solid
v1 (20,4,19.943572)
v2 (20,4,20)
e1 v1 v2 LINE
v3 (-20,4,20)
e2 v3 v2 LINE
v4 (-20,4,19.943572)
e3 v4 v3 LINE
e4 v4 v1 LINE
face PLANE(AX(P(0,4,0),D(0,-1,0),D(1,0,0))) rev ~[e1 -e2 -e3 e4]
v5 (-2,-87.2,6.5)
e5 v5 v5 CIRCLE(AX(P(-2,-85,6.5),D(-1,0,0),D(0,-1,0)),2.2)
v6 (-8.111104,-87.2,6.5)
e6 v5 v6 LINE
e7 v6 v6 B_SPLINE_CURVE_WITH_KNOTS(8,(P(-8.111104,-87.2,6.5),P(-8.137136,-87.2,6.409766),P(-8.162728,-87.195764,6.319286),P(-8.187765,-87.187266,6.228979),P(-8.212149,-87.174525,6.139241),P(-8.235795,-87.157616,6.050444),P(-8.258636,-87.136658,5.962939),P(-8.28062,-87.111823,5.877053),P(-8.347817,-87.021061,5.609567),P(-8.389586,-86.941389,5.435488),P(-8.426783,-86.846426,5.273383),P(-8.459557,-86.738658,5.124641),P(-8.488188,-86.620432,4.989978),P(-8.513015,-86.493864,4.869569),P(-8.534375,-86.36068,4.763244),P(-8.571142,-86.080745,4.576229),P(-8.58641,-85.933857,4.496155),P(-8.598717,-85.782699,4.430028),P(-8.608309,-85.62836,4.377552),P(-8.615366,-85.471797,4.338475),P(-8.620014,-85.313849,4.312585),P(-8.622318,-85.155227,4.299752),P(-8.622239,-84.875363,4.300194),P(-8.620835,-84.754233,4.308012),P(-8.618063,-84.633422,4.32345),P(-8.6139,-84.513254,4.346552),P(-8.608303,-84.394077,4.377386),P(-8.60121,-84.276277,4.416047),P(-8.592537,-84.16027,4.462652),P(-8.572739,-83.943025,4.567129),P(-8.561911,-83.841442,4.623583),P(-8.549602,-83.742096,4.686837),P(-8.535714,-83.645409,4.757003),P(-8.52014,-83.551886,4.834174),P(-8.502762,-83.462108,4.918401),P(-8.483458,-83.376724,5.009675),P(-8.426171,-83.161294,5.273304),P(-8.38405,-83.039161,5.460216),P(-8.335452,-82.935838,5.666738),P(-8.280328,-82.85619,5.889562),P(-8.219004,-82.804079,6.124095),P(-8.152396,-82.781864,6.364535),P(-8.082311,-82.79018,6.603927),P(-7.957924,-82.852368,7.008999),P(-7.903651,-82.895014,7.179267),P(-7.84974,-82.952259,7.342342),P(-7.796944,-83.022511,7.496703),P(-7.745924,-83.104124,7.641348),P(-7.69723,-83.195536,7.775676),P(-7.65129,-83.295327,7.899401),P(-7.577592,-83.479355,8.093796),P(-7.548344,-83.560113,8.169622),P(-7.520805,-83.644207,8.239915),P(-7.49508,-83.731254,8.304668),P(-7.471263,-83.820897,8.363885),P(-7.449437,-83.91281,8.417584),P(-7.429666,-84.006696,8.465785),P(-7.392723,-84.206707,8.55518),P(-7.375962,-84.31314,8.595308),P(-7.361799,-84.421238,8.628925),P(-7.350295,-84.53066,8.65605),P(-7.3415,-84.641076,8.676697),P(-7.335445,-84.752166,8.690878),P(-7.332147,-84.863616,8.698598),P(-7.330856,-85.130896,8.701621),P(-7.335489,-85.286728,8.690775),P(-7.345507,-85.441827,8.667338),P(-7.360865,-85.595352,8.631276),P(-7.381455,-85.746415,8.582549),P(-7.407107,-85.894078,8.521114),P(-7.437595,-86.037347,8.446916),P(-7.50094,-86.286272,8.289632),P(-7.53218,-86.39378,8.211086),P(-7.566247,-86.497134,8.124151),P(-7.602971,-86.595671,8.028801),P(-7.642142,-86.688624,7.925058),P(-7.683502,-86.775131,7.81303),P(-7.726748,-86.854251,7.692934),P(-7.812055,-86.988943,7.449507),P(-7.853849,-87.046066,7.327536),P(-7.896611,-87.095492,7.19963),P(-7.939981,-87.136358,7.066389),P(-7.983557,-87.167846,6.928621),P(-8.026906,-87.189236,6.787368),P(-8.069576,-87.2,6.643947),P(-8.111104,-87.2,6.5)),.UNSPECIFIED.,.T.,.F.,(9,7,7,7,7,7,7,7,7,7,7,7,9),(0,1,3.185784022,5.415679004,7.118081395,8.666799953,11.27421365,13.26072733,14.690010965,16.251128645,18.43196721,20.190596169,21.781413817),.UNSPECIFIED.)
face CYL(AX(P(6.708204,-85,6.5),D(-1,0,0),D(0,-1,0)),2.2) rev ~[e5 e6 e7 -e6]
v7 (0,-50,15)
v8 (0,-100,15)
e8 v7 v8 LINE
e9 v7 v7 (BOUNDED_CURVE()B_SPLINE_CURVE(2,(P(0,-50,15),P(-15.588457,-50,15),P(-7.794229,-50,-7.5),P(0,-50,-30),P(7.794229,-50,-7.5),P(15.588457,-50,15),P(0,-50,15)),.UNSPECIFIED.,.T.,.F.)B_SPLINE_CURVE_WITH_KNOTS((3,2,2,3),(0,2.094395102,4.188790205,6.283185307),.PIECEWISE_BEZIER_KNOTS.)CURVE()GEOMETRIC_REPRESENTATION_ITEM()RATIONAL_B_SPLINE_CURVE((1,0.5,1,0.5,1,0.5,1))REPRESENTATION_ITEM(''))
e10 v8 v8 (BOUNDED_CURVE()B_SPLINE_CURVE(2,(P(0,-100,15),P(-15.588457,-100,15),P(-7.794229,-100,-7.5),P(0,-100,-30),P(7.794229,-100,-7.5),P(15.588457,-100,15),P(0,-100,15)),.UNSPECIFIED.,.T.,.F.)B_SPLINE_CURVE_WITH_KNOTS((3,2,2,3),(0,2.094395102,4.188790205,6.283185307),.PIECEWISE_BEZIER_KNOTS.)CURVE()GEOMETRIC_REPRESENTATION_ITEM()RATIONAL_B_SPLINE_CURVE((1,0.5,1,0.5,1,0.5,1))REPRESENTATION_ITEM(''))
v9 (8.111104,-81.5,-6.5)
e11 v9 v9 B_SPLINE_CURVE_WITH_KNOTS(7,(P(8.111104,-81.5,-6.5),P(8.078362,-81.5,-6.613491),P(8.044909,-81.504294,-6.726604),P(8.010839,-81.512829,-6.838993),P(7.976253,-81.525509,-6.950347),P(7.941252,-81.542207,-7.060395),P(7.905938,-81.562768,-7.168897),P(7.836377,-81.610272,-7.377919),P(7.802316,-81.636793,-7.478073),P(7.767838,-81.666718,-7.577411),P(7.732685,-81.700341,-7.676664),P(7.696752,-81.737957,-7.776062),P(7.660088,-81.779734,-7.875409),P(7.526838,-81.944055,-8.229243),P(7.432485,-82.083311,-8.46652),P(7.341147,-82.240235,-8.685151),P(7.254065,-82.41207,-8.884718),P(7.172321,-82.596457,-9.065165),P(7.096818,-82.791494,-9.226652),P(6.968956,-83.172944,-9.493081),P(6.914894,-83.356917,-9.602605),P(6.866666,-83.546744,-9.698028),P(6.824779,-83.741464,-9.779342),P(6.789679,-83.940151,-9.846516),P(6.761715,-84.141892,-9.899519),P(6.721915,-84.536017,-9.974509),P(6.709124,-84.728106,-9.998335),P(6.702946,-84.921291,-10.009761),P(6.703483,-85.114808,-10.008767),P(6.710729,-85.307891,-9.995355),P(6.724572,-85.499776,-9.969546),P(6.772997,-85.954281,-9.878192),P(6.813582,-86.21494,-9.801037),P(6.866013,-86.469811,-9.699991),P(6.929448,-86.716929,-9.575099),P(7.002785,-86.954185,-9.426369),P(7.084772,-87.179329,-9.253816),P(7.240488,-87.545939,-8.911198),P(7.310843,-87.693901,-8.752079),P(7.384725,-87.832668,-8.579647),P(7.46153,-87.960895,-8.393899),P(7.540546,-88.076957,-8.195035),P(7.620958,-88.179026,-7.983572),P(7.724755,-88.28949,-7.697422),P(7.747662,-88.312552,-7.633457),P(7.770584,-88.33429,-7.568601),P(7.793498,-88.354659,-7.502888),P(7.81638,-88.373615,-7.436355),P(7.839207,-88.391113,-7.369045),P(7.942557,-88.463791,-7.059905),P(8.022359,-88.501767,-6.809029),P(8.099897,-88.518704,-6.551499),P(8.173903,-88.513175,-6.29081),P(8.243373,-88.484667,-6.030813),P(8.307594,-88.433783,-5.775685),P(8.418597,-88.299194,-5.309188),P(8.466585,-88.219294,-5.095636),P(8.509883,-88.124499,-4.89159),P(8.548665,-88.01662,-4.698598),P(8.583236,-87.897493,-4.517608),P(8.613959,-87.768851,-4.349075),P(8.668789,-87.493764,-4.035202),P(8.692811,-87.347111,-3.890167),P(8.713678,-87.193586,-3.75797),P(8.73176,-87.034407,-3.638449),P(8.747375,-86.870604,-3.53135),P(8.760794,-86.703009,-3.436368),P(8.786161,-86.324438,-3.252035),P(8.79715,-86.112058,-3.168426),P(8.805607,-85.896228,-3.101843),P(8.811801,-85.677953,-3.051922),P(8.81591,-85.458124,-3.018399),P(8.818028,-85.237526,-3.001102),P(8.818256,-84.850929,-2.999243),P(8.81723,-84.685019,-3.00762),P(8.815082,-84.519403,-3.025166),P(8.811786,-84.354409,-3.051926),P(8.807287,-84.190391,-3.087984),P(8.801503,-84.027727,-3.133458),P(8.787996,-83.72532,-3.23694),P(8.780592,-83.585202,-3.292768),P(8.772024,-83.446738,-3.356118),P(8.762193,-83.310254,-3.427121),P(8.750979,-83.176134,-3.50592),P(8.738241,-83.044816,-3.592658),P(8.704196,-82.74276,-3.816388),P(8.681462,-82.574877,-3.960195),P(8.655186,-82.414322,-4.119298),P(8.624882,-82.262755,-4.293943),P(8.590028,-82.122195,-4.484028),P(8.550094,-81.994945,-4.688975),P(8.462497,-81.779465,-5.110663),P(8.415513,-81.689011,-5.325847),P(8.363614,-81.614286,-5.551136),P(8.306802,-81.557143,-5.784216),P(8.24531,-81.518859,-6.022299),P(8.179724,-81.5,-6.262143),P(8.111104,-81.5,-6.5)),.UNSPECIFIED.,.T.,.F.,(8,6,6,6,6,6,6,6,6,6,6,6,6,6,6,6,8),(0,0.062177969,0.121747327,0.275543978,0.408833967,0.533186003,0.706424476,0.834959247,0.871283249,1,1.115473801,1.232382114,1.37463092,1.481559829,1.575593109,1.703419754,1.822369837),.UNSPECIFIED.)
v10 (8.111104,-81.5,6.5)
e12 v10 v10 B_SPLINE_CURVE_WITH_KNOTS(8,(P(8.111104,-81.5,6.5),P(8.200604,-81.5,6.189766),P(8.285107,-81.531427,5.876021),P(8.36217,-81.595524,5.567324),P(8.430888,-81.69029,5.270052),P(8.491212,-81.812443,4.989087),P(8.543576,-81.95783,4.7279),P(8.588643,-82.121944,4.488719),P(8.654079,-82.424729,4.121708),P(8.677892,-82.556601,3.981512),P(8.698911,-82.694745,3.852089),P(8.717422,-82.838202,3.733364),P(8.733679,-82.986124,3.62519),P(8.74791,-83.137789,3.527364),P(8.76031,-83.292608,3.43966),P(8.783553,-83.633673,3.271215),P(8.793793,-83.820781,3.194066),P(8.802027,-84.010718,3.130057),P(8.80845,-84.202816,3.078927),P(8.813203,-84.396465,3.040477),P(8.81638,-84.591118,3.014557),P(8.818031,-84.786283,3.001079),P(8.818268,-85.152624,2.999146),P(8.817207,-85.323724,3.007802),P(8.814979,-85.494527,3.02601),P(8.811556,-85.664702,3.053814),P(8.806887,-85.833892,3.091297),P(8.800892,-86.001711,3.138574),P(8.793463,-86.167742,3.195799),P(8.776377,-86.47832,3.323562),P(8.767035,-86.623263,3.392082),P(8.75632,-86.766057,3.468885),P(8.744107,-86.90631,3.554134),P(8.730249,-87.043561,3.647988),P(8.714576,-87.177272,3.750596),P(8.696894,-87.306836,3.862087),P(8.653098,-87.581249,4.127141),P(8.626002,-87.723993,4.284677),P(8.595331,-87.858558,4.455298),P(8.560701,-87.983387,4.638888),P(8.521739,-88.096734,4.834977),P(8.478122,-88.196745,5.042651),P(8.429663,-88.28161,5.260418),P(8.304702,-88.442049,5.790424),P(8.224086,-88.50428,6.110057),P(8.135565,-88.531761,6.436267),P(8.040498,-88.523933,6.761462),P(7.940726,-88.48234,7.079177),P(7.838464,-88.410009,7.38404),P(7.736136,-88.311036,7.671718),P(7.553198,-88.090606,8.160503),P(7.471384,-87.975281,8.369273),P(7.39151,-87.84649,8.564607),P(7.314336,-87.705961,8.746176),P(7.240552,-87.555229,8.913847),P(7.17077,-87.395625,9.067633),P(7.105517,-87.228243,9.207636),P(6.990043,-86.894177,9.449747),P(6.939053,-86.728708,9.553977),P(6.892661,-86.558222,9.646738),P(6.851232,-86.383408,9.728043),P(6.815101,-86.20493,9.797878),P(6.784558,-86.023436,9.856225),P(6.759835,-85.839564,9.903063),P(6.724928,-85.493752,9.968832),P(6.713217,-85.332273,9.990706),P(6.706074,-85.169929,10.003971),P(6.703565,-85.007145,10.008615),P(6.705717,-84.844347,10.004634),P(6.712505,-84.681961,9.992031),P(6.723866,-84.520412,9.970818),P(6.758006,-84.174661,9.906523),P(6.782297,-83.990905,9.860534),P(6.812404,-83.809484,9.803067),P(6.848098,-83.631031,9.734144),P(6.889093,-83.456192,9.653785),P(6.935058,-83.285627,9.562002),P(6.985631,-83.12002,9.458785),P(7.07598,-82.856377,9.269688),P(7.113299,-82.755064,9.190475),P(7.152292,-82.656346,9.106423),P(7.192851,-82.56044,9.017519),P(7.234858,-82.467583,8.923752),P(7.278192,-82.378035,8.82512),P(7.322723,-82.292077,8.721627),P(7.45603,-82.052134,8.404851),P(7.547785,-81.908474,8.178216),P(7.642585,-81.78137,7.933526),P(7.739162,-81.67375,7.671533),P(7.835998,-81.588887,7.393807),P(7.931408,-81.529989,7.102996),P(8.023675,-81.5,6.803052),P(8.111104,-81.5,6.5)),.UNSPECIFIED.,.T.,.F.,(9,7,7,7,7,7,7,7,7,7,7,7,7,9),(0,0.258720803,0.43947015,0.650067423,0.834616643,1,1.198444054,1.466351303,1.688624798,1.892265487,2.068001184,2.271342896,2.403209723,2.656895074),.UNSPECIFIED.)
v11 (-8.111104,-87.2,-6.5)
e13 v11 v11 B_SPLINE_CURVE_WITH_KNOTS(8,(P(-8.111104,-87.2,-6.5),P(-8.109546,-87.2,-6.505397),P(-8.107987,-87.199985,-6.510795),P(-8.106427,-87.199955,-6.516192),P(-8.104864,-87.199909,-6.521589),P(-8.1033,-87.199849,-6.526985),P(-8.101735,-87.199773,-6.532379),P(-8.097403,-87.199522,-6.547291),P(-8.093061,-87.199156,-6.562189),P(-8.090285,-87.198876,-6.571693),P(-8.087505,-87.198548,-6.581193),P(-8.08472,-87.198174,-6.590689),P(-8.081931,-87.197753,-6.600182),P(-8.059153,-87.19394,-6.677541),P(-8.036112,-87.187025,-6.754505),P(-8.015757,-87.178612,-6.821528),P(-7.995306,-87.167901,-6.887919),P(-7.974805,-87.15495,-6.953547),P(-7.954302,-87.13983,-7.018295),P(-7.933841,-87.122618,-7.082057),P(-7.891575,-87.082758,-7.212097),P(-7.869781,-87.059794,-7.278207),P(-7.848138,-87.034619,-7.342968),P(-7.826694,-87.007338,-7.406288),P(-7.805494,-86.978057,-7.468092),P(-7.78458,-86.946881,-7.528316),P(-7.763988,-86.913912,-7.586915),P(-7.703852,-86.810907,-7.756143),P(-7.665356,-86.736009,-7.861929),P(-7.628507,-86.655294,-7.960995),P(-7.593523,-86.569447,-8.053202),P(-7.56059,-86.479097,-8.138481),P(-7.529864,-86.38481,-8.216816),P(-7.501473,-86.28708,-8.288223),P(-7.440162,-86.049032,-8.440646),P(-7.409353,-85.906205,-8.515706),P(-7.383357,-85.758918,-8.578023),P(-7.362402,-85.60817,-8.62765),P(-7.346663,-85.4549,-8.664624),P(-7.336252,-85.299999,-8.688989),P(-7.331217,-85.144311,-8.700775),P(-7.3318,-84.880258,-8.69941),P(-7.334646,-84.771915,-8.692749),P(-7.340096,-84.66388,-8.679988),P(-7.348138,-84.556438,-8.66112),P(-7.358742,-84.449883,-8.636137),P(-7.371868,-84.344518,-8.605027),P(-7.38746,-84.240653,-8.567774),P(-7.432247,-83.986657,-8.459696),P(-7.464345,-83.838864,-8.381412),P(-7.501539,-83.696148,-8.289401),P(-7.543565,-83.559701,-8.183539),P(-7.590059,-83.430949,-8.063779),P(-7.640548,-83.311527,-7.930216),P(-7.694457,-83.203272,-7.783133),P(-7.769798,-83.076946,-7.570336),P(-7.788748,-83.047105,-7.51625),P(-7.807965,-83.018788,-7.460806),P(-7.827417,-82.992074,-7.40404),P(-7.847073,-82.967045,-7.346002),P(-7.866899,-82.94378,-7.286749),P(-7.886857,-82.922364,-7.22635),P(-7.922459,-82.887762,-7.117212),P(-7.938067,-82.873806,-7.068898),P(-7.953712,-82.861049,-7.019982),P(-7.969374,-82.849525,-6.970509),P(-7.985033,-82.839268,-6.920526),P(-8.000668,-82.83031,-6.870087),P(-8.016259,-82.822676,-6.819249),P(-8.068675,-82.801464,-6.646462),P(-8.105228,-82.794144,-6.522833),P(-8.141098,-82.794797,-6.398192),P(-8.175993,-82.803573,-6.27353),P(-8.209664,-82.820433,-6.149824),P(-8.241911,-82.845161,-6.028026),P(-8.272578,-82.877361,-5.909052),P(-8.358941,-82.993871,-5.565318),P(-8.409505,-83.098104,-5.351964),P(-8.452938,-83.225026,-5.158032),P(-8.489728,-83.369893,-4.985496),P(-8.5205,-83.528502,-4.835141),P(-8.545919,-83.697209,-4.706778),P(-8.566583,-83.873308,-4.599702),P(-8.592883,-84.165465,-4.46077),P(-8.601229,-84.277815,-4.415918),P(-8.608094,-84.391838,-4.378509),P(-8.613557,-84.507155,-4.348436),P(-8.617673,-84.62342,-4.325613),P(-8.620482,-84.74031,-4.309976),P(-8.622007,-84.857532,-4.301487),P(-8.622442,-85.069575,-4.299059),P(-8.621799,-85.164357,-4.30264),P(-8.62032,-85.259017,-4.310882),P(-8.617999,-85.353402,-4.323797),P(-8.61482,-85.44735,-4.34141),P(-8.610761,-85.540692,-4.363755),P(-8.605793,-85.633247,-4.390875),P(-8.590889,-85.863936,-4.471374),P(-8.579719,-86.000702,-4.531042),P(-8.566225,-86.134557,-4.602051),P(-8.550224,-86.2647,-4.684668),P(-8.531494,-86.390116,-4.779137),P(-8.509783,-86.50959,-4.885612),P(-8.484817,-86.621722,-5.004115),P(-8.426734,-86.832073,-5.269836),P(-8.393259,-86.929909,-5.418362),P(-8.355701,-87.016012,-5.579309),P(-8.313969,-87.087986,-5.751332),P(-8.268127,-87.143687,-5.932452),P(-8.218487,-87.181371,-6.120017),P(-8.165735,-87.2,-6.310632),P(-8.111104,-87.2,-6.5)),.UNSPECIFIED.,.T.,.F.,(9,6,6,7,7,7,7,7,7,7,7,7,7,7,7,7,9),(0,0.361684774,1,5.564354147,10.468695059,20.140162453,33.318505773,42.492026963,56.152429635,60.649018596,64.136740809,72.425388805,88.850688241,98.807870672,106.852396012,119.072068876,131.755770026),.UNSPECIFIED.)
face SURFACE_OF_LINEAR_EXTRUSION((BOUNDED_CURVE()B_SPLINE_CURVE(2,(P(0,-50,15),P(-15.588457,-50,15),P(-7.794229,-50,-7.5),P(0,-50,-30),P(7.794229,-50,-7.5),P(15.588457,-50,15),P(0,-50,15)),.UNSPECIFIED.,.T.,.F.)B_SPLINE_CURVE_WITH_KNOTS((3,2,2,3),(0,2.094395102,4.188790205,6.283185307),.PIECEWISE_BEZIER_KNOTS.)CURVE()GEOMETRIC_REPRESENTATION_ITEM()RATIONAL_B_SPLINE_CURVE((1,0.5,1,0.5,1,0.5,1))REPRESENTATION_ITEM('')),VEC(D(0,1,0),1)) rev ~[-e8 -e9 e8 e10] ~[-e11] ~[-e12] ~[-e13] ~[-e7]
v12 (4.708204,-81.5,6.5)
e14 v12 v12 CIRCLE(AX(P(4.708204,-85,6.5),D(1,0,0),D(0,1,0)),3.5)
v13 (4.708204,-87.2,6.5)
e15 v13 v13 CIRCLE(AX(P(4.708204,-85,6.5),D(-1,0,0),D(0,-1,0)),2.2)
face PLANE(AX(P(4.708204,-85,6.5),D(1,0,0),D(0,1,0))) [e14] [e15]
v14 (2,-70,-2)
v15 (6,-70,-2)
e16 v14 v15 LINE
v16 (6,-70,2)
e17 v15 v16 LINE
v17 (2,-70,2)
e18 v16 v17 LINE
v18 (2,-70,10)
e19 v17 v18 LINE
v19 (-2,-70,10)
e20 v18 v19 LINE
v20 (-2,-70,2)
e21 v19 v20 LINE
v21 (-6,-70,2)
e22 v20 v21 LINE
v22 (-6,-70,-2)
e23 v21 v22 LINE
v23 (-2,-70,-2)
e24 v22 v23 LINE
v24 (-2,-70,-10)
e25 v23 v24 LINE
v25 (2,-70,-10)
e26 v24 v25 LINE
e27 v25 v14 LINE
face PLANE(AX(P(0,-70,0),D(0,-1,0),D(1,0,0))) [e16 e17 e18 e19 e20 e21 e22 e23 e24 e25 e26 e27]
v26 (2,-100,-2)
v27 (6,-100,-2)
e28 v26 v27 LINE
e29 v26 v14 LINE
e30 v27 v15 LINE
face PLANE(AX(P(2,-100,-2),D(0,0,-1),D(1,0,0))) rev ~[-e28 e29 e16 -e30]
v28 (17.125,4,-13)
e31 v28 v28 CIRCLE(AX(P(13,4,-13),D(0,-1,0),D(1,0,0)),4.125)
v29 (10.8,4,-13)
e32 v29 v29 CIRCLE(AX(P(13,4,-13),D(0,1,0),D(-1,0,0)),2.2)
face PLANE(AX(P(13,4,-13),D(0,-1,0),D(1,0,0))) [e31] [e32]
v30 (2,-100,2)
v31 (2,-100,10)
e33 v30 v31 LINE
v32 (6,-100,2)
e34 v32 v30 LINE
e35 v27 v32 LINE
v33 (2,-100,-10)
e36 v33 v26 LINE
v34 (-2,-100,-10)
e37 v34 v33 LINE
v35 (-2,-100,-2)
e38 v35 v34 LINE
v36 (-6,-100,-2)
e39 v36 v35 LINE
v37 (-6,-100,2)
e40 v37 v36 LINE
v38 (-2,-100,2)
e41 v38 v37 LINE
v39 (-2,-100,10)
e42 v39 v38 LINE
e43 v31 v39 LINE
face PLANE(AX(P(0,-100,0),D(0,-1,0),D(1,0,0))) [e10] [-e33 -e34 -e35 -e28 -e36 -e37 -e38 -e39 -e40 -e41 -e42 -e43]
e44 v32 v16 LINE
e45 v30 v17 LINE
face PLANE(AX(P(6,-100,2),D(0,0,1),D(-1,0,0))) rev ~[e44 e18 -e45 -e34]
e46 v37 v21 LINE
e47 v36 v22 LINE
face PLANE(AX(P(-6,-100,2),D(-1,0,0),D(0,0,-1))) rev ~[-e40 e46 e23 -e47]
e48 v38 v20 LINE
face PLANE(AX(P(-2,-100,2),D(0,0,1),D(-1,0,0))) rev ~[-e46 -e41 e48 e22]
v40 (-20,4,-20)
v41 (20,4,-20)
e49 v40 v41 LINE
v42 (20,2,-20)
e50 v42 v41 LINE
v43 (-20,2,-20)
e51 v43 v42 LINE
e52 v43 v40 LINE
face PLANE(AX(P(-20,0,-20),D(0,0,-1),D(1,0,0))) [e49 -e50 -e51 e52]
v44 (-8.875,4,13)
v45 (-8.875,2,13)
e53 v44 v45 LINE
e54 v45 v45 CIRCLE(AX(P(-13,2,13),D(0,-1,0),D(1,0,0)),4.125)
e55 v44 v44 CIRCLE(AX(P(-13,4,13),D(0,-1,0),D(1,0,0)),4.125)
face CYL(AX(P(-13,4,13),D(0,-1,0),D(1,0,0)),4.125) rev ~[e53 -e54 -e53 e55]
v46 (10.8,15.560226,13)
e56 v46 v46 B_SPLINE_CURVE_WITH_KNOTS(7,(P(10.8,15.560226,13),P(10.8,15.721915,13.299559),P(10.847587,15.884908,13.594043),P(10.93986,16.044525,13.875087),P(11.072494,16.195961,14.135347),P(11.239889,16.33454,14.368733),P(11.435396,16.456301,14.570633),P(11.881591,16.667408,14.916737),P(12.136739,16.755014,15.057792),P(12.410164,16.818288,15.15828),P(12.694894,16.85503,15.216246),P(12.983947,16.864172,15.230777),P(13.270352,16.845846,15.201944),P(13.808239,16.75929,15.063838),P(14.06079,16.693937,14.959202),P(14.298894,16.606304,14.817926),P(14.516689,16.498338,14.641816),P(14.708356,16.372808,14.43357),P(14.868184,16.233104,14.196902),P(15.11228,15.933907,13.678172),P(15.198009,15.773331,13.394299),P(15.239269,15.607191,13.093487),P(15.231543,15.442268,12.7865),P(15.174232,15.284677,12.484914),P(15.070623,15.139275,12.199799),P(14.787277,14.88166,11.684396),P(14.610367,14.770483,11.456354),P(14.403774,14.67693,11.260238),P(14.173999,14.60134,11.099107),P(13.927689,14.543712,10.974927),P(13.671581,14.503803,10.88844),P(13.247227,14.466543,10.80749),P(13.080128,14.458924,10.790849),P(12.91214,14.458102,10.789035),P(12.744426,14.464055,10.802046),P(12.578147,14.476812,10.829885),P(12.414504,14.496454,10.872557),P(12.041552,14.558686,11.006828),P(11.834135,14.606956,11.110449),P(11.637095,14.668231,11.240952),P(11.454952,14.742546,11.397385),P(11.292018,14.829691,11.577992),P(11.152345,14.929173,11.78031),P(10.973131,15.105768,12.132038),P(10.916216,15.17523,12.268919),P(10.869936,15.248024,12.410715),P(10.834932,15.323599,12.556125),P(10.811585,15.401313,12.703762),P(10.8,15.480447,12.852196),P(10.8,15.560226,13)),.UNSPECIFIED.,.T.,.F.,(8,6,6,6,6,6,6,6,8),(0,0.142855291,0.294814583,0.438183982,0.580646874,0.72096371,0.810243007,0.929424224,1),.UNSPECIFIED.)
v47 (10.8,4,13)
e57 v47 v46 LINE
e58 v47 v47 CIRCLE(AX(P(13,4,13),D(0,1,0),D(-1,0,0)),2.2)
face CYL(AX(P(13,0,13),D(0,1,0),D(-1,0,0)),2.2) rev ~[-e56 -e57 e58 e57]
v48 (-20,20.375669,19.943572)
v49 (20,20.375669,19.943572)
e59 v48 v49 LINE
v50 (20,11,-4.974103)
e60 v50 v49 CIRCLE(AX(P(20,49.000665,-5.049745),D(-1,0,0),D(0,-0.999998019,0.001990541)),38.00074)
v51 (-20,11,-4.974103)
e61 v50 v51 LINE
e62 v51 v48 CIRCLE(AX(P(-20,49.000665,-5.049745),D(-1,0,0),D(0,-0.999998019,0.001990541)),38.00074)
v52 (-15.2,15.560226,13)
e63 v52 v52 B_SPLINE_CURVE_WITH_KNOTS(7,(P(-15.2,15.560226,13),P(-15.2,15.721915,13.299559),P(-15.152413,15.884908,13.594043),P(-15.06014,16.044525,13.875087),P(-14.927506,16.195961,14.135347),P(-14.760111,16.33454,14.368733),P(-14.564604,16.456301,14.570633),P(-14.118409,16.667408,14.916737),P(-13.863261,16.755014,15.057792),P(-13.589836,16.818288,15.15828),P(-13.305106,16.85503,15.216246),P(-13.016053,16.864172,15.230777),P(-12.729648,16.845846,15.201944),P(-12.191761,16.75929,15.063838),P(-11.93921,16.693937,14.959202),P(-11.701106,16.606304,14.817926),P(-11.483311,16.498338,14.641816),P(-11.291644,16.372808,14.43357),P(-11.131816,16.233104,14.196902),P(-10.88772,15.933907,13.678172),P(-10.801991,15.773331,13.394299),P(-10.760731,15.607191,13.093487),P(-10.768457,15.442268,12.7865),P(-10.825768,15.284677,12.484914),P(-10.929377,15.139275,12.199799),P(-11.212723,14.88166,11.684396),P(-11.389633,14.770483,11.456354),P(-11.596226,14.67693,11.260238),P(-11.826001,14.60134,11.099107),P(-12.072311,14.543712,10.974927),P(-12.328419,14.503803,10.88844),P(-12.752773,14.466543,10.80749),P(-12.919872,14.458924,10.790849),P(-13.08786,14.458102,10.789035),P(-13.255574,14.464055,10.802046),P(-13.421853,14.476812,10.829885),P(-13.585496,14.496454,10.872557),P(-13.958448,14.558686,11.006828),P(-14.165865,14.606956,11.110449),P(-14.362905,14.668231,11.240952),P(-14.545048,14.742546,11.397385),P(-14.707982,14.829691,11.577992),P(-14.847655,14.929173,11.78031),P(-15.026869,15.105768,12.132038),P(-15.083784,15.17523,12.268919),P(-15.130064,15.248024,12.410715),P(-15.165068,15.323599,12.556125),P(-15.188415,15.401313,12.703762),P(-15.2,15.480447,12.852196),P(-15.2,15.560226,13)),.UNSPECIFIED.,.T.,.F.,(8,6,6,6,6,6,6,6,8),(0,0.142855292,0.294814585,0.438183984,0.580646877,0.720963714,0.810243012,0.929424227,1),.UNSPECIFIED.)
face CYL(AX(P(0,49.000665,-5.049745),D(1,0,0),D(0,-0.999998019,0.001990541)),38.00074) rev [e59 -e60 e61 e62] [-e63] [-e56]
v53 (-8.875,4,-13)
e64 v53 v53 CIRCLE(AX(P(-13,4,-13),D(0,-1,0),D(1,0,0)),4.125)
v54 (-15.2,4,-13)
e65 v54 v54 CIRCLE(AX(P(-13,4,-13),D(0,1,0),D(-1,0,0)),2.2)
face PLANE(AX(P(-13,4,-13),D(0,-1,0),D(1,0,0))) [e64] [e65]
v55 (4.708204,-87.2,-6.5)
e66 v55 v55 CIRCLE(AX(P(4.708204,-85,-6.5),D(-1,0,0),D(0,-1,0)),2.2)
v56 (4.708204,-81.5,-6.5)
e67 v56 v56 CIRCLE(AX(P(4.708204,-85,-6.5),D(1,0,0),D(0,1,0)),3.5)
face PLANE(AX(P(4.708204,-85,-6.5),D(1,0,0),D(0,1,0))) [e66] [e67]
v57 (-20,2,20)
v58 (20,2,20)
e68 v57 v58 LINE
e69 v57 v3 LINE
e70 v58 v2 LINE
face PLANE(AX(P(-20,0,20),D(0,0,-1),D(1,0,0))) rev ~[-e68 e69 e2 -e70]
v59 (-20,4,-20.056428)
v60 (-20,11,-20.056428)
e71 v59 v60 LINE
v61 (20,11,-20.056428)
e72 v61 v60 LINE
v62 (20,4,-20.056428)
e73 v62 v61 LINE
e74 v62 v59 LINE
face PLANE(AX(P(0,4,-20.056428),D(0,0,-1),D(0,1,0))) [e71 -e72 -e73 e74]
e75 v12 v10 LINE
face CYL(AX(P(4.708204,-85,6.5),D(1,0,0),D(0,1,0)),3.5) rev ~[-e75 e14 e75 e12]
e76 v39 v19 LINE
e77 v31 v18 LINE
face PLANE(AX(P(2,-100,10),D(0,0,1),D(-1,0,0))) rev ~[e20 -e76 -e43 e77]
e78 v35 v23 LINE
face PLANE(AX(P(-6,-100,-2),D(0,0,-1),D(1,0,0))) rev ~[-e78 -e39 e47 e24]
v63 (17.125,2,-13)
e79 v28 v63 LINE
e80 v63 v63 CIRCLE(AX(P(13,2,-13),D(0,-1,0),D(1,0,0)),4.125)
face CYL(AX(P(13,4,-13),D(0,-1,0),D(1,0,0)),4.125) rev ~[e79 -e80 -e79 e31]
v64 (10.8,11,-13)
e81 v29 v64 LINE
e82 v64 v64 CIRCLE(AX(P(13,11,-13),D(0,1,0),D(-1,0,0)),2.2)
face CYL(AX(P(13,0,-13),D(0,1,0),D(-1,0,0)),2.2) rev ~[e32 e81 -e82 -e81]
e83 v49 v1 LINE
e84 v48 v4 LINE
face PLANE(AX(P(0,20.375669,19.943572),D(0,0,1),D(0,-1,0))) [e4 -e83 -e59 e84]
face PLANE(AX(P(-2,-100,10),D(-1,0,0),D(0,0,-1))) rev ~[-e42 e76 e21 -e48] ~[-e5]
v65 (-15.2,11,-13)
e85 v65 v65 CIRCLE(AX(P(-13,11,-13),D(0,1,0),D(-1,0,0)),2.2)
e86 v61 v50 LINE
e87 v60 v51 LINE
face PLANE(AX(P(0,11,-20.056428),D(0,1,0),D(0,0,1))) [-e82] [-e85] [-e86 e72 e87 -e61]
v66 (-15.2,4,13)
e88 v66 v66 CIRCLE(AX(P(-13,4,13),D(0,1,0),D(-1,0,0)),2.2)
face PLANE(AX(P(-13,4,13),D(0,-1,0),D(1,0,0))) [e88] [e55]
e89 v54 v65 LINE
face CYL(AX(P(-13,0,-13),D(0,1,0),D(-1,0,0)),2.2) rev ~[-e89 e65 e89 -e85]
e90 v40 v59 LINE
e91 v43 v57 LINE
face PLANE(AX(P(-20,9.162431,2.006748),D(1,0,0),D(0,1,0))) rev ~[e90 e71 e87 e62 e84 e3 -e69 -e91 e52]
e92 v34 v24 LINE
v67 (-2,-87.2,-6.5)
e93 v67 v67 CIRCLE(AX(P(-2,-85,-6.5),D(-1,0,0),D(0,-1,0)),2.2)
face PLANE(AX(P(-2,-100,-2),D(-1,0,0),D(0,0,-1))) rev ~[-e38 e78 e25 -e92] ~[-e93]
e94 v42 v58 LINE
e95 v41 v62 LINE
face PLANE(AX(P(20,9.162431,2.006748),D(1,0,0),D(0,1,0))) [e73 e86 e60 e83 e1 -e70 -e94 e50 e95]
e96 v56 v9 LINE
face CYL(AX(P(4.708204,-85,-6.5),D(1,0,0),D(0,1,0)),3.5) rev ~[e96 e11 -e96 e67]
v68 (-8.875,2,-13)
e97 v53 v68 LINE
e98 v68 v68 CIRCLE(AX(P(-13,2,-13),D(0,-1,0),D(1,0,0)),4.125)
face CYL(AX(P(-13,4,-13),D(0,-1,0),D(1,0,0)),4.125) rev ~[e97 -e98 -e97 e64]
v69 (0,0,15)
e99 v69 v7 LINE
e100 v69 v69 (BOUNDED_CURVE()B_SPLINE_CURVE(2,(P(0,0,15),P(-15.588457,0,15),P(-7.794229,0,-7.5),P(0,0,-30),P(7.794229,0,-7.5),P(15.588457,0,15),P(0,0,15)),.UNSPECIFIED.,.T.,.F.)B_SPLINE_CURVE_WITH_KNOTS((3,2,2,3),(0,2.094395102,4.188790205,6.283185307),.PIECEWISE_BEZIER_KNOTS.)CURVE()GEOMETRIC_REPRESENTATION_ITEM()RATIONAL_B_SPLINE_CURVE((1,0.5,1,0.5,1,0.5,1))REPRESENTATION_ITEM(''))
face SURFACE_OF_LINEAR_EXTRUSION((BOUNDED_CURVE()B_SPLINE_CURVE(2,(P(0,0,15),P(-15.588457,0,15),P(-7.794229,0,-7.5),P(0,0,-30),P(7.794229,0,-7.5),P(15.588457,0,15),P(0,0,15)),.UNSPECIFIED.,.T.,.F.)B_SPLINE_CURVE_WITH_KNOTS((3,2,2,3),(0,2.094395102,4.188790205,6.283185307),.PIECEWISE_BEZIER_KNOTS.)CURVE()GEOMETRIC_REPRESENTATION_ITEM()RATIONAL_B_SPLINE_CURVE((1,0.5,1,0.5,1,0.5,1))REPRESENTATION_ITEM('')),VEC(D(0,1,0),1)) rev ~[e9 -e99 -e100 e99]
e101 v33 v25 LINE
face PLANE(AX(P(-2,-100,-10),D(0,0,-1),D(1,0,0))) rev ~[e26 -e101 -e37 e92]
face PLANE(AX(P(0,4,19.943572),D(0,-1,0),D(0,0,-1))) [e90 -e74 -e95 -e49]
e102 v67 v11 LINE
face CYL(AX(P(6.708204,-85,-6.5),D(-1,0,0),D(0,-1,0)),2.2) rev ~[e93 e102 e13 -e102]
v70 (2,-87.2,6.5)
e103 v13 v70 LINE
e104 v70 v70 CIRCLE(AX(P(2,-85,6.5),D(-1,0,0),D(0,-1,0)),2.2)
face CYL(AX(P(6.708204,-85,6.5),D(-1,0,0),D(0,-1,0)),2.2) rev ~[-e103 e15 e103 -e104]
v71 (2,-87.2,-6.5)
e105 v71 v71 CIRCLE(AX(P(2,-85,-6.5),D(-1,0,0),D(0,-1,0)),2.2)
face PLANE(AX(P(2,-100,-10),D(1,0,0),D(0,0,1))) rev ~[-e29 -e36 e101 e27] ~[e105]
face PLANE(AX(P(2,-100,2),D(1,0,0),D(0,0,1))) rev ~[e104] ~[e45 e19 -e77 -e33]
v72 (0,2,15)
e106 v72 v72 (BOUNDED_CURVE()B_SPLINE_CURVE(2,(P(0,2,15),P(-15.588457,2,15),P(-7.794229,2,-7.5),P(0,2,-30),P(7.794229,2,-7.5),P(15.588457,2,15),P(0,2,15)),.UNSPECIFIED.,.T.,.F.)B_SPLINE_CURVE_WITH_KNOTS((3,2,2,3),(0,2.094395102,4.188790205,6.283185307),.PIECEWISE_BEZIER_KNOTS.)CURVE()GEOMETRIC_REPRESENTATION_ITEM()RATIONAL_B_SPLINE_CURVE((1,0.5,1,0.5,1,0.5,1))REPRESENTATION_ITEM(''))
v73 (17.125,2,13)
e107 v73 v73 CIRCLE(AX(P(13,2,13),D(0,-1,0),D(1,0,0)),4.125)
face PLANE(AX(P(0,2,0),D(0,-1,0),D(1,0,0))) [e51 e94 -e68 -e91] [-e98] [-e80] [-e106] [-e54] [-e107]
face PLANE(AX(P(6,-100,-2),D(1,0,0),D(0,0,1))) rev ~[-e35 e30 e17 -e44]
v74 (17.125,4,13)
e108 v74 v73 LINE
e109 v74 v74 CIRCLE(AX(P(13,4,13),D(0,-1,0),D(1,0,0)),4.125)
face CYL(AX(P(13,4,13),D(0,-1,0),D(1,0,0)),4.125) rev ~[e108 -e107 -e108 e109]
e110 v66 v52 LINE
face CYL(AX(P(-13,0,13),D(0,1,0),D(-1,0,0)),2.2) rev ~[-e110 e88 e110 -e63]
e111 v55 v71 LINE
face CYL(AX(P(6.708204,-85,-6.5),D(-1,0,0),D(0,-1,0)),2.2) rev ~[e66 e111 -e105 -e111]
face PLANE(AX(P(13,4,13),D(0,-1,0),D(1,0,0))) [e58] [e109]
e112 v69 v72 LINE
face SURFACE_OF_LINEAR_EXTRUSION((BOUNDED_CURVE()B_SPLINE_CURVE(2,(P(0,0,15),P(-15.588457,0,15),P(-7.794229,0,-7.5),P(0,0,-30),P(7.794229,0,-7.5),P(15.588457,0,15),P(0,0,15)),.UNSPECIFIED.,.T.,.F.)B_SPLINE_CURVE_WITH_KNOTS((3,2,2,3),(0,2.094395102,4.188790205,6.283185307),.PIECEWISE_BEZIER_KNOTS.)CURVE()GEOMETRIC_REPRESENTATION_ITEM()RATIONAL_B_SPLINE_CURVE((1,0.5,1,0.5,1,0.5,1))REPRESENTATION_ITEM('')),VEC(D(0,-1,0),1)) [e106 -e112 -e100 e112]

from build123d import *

# Parameters (mm, degrees)
F0_W            = 40
F0_H            = 40
F3_DEPTH        = 4
F4_DEPTH        = 50
F5_DEPTH        = 50
F7_DEPTH        = 20
F8_DEPTH        = 2
F9_D            = 4.4
F9_DEPTH        = 50
F9_CBORE_D      = 8.25
F9_CBORE_DEPTH  = 4
F9_TIP          = 1.3218933619
F12_D           = 4.4
F12_DEPTH       = 30
F12_START       = 7.2917962
F12_CBORE_D     = 7
F12_CBORE_DEPTH = 2
F12_TIP         = 1.3218933619
F14_DEPTH       = 30


with BuildPart() as f3:
    # F0 (on Front) → F3 (new body)
    with BuildSketch(Plane.XZ):
        Rectangle(F0_W, F0_H)
    extrude(amount=-F3_DEPTH)

    # F1 (on face) → F4 (join)
    with BuildSketch(Plane.XZ):
        with BuildLine():
            add(Edge.make_bspline(
                [(0, 15), (-15.5884572681, 15), (-7.7942286341, -7.5), (0, -30), (7.7942286341, -7.5), (15.5884572681, 15), (0, 15)],
                knots=[0, 0, 0, 2.0943951024, 2.0943951024, 4.1887902048, 4.1887902048, 6.2831853072, 6.2831853072, 6.2831853072], degree=2, weights=[1, 0.5, 1, 0.5, 1, 0.5, 1]))
        make_face()
    extrude(amount=F4_DEPTH)

    # F5 (add): a face of the model
    f5_faces = [f3.faces().sort_by_distance(p)[0] for p in [
        (0, -50, -0.0363826863),
    ]]
    extrude(f5_faces, amount=F5_DEPTH)

    # F6 (on Right) → F7 (join, symmetric)
    with BuildSketch(Plane.YZ):
        with BuildLine():
            ThreePointArc((11, -4.974102855), (13.4342862597, 8.3326675922), (20.3756691827, 19.9435716245))
            Line((20.3756691827, 19.9435716245), (4, 19.9435716245))
            Line((4, 19.9435716245), (4, -20.0564283755))
            Line((4, -20.0564283755), (11, -20.0564283755))
            Line((11, -20.0564283755), (11, -4.974102855))
        make_face()
    extrude(amount=F7_DEPTH, both=True)

    # F8 (cut): a face of the model
    f8_faces = [f3.faces().sort_by_distance(p)[0] for p in [
        (0, 0, -19.4343145722),
    ]]
    extrude(f8_faces, amount=-F8_DEPTH, mode=Mode.SUBTRACT)

    # F9
    with Locations(Plane.XZ):
        with Locations((-13, 13), (13, 13), (13, -13), (-13, -13)):
            CounterBoreHole(F9_D / 2, F9_CBORE_D / 2, F9_CBORE_DEPTH, depth=F9_DEPTH)
            with Locations((0, 0, -(F9_DEPTH + F9_TIP / 2))):  # 118° drill point
                Cone(0, F9_D / 2, F9_TIP, mode=Mode.SUBTRACT)

    # F12
    # its depths count from where the whole tool has entered the part; down to there all is cleared
    with Locations(Plane.YZ.offset(14).offset(-F12_START)):
        with Locations((-85, 6.5), (-85, -6.5)):
            CounterBoreHole(F12_D / 2, F12_CBORE_D / 2, F12_CBORE_DEPTH, depth=F12_DEPTH)
            with Locations((0, 0, -(F12_DEPTH + F12_TIP / 2))):  # 118° drill point
                Cone(0, F12_D / 2, F12_TIP, mode=Mode.SUBTRACT)

    # F13 (on face) → F14 (cut)
    with BuildSketch(Plane.XZ.offset(100)):
        Polygon((2, 10), (0, 10), (-2, 10), (-2, 2), (-6, 2), (-6, -2), (-2, -2), (-2, -10), (0, -10), (2, -10), (2, -2), (6, -2), (6, 2), (2, 2), align=None)
    extrude(amount=-F14_DEPTH, mode=Mode.SUBTRACT)


solid = f3.part
